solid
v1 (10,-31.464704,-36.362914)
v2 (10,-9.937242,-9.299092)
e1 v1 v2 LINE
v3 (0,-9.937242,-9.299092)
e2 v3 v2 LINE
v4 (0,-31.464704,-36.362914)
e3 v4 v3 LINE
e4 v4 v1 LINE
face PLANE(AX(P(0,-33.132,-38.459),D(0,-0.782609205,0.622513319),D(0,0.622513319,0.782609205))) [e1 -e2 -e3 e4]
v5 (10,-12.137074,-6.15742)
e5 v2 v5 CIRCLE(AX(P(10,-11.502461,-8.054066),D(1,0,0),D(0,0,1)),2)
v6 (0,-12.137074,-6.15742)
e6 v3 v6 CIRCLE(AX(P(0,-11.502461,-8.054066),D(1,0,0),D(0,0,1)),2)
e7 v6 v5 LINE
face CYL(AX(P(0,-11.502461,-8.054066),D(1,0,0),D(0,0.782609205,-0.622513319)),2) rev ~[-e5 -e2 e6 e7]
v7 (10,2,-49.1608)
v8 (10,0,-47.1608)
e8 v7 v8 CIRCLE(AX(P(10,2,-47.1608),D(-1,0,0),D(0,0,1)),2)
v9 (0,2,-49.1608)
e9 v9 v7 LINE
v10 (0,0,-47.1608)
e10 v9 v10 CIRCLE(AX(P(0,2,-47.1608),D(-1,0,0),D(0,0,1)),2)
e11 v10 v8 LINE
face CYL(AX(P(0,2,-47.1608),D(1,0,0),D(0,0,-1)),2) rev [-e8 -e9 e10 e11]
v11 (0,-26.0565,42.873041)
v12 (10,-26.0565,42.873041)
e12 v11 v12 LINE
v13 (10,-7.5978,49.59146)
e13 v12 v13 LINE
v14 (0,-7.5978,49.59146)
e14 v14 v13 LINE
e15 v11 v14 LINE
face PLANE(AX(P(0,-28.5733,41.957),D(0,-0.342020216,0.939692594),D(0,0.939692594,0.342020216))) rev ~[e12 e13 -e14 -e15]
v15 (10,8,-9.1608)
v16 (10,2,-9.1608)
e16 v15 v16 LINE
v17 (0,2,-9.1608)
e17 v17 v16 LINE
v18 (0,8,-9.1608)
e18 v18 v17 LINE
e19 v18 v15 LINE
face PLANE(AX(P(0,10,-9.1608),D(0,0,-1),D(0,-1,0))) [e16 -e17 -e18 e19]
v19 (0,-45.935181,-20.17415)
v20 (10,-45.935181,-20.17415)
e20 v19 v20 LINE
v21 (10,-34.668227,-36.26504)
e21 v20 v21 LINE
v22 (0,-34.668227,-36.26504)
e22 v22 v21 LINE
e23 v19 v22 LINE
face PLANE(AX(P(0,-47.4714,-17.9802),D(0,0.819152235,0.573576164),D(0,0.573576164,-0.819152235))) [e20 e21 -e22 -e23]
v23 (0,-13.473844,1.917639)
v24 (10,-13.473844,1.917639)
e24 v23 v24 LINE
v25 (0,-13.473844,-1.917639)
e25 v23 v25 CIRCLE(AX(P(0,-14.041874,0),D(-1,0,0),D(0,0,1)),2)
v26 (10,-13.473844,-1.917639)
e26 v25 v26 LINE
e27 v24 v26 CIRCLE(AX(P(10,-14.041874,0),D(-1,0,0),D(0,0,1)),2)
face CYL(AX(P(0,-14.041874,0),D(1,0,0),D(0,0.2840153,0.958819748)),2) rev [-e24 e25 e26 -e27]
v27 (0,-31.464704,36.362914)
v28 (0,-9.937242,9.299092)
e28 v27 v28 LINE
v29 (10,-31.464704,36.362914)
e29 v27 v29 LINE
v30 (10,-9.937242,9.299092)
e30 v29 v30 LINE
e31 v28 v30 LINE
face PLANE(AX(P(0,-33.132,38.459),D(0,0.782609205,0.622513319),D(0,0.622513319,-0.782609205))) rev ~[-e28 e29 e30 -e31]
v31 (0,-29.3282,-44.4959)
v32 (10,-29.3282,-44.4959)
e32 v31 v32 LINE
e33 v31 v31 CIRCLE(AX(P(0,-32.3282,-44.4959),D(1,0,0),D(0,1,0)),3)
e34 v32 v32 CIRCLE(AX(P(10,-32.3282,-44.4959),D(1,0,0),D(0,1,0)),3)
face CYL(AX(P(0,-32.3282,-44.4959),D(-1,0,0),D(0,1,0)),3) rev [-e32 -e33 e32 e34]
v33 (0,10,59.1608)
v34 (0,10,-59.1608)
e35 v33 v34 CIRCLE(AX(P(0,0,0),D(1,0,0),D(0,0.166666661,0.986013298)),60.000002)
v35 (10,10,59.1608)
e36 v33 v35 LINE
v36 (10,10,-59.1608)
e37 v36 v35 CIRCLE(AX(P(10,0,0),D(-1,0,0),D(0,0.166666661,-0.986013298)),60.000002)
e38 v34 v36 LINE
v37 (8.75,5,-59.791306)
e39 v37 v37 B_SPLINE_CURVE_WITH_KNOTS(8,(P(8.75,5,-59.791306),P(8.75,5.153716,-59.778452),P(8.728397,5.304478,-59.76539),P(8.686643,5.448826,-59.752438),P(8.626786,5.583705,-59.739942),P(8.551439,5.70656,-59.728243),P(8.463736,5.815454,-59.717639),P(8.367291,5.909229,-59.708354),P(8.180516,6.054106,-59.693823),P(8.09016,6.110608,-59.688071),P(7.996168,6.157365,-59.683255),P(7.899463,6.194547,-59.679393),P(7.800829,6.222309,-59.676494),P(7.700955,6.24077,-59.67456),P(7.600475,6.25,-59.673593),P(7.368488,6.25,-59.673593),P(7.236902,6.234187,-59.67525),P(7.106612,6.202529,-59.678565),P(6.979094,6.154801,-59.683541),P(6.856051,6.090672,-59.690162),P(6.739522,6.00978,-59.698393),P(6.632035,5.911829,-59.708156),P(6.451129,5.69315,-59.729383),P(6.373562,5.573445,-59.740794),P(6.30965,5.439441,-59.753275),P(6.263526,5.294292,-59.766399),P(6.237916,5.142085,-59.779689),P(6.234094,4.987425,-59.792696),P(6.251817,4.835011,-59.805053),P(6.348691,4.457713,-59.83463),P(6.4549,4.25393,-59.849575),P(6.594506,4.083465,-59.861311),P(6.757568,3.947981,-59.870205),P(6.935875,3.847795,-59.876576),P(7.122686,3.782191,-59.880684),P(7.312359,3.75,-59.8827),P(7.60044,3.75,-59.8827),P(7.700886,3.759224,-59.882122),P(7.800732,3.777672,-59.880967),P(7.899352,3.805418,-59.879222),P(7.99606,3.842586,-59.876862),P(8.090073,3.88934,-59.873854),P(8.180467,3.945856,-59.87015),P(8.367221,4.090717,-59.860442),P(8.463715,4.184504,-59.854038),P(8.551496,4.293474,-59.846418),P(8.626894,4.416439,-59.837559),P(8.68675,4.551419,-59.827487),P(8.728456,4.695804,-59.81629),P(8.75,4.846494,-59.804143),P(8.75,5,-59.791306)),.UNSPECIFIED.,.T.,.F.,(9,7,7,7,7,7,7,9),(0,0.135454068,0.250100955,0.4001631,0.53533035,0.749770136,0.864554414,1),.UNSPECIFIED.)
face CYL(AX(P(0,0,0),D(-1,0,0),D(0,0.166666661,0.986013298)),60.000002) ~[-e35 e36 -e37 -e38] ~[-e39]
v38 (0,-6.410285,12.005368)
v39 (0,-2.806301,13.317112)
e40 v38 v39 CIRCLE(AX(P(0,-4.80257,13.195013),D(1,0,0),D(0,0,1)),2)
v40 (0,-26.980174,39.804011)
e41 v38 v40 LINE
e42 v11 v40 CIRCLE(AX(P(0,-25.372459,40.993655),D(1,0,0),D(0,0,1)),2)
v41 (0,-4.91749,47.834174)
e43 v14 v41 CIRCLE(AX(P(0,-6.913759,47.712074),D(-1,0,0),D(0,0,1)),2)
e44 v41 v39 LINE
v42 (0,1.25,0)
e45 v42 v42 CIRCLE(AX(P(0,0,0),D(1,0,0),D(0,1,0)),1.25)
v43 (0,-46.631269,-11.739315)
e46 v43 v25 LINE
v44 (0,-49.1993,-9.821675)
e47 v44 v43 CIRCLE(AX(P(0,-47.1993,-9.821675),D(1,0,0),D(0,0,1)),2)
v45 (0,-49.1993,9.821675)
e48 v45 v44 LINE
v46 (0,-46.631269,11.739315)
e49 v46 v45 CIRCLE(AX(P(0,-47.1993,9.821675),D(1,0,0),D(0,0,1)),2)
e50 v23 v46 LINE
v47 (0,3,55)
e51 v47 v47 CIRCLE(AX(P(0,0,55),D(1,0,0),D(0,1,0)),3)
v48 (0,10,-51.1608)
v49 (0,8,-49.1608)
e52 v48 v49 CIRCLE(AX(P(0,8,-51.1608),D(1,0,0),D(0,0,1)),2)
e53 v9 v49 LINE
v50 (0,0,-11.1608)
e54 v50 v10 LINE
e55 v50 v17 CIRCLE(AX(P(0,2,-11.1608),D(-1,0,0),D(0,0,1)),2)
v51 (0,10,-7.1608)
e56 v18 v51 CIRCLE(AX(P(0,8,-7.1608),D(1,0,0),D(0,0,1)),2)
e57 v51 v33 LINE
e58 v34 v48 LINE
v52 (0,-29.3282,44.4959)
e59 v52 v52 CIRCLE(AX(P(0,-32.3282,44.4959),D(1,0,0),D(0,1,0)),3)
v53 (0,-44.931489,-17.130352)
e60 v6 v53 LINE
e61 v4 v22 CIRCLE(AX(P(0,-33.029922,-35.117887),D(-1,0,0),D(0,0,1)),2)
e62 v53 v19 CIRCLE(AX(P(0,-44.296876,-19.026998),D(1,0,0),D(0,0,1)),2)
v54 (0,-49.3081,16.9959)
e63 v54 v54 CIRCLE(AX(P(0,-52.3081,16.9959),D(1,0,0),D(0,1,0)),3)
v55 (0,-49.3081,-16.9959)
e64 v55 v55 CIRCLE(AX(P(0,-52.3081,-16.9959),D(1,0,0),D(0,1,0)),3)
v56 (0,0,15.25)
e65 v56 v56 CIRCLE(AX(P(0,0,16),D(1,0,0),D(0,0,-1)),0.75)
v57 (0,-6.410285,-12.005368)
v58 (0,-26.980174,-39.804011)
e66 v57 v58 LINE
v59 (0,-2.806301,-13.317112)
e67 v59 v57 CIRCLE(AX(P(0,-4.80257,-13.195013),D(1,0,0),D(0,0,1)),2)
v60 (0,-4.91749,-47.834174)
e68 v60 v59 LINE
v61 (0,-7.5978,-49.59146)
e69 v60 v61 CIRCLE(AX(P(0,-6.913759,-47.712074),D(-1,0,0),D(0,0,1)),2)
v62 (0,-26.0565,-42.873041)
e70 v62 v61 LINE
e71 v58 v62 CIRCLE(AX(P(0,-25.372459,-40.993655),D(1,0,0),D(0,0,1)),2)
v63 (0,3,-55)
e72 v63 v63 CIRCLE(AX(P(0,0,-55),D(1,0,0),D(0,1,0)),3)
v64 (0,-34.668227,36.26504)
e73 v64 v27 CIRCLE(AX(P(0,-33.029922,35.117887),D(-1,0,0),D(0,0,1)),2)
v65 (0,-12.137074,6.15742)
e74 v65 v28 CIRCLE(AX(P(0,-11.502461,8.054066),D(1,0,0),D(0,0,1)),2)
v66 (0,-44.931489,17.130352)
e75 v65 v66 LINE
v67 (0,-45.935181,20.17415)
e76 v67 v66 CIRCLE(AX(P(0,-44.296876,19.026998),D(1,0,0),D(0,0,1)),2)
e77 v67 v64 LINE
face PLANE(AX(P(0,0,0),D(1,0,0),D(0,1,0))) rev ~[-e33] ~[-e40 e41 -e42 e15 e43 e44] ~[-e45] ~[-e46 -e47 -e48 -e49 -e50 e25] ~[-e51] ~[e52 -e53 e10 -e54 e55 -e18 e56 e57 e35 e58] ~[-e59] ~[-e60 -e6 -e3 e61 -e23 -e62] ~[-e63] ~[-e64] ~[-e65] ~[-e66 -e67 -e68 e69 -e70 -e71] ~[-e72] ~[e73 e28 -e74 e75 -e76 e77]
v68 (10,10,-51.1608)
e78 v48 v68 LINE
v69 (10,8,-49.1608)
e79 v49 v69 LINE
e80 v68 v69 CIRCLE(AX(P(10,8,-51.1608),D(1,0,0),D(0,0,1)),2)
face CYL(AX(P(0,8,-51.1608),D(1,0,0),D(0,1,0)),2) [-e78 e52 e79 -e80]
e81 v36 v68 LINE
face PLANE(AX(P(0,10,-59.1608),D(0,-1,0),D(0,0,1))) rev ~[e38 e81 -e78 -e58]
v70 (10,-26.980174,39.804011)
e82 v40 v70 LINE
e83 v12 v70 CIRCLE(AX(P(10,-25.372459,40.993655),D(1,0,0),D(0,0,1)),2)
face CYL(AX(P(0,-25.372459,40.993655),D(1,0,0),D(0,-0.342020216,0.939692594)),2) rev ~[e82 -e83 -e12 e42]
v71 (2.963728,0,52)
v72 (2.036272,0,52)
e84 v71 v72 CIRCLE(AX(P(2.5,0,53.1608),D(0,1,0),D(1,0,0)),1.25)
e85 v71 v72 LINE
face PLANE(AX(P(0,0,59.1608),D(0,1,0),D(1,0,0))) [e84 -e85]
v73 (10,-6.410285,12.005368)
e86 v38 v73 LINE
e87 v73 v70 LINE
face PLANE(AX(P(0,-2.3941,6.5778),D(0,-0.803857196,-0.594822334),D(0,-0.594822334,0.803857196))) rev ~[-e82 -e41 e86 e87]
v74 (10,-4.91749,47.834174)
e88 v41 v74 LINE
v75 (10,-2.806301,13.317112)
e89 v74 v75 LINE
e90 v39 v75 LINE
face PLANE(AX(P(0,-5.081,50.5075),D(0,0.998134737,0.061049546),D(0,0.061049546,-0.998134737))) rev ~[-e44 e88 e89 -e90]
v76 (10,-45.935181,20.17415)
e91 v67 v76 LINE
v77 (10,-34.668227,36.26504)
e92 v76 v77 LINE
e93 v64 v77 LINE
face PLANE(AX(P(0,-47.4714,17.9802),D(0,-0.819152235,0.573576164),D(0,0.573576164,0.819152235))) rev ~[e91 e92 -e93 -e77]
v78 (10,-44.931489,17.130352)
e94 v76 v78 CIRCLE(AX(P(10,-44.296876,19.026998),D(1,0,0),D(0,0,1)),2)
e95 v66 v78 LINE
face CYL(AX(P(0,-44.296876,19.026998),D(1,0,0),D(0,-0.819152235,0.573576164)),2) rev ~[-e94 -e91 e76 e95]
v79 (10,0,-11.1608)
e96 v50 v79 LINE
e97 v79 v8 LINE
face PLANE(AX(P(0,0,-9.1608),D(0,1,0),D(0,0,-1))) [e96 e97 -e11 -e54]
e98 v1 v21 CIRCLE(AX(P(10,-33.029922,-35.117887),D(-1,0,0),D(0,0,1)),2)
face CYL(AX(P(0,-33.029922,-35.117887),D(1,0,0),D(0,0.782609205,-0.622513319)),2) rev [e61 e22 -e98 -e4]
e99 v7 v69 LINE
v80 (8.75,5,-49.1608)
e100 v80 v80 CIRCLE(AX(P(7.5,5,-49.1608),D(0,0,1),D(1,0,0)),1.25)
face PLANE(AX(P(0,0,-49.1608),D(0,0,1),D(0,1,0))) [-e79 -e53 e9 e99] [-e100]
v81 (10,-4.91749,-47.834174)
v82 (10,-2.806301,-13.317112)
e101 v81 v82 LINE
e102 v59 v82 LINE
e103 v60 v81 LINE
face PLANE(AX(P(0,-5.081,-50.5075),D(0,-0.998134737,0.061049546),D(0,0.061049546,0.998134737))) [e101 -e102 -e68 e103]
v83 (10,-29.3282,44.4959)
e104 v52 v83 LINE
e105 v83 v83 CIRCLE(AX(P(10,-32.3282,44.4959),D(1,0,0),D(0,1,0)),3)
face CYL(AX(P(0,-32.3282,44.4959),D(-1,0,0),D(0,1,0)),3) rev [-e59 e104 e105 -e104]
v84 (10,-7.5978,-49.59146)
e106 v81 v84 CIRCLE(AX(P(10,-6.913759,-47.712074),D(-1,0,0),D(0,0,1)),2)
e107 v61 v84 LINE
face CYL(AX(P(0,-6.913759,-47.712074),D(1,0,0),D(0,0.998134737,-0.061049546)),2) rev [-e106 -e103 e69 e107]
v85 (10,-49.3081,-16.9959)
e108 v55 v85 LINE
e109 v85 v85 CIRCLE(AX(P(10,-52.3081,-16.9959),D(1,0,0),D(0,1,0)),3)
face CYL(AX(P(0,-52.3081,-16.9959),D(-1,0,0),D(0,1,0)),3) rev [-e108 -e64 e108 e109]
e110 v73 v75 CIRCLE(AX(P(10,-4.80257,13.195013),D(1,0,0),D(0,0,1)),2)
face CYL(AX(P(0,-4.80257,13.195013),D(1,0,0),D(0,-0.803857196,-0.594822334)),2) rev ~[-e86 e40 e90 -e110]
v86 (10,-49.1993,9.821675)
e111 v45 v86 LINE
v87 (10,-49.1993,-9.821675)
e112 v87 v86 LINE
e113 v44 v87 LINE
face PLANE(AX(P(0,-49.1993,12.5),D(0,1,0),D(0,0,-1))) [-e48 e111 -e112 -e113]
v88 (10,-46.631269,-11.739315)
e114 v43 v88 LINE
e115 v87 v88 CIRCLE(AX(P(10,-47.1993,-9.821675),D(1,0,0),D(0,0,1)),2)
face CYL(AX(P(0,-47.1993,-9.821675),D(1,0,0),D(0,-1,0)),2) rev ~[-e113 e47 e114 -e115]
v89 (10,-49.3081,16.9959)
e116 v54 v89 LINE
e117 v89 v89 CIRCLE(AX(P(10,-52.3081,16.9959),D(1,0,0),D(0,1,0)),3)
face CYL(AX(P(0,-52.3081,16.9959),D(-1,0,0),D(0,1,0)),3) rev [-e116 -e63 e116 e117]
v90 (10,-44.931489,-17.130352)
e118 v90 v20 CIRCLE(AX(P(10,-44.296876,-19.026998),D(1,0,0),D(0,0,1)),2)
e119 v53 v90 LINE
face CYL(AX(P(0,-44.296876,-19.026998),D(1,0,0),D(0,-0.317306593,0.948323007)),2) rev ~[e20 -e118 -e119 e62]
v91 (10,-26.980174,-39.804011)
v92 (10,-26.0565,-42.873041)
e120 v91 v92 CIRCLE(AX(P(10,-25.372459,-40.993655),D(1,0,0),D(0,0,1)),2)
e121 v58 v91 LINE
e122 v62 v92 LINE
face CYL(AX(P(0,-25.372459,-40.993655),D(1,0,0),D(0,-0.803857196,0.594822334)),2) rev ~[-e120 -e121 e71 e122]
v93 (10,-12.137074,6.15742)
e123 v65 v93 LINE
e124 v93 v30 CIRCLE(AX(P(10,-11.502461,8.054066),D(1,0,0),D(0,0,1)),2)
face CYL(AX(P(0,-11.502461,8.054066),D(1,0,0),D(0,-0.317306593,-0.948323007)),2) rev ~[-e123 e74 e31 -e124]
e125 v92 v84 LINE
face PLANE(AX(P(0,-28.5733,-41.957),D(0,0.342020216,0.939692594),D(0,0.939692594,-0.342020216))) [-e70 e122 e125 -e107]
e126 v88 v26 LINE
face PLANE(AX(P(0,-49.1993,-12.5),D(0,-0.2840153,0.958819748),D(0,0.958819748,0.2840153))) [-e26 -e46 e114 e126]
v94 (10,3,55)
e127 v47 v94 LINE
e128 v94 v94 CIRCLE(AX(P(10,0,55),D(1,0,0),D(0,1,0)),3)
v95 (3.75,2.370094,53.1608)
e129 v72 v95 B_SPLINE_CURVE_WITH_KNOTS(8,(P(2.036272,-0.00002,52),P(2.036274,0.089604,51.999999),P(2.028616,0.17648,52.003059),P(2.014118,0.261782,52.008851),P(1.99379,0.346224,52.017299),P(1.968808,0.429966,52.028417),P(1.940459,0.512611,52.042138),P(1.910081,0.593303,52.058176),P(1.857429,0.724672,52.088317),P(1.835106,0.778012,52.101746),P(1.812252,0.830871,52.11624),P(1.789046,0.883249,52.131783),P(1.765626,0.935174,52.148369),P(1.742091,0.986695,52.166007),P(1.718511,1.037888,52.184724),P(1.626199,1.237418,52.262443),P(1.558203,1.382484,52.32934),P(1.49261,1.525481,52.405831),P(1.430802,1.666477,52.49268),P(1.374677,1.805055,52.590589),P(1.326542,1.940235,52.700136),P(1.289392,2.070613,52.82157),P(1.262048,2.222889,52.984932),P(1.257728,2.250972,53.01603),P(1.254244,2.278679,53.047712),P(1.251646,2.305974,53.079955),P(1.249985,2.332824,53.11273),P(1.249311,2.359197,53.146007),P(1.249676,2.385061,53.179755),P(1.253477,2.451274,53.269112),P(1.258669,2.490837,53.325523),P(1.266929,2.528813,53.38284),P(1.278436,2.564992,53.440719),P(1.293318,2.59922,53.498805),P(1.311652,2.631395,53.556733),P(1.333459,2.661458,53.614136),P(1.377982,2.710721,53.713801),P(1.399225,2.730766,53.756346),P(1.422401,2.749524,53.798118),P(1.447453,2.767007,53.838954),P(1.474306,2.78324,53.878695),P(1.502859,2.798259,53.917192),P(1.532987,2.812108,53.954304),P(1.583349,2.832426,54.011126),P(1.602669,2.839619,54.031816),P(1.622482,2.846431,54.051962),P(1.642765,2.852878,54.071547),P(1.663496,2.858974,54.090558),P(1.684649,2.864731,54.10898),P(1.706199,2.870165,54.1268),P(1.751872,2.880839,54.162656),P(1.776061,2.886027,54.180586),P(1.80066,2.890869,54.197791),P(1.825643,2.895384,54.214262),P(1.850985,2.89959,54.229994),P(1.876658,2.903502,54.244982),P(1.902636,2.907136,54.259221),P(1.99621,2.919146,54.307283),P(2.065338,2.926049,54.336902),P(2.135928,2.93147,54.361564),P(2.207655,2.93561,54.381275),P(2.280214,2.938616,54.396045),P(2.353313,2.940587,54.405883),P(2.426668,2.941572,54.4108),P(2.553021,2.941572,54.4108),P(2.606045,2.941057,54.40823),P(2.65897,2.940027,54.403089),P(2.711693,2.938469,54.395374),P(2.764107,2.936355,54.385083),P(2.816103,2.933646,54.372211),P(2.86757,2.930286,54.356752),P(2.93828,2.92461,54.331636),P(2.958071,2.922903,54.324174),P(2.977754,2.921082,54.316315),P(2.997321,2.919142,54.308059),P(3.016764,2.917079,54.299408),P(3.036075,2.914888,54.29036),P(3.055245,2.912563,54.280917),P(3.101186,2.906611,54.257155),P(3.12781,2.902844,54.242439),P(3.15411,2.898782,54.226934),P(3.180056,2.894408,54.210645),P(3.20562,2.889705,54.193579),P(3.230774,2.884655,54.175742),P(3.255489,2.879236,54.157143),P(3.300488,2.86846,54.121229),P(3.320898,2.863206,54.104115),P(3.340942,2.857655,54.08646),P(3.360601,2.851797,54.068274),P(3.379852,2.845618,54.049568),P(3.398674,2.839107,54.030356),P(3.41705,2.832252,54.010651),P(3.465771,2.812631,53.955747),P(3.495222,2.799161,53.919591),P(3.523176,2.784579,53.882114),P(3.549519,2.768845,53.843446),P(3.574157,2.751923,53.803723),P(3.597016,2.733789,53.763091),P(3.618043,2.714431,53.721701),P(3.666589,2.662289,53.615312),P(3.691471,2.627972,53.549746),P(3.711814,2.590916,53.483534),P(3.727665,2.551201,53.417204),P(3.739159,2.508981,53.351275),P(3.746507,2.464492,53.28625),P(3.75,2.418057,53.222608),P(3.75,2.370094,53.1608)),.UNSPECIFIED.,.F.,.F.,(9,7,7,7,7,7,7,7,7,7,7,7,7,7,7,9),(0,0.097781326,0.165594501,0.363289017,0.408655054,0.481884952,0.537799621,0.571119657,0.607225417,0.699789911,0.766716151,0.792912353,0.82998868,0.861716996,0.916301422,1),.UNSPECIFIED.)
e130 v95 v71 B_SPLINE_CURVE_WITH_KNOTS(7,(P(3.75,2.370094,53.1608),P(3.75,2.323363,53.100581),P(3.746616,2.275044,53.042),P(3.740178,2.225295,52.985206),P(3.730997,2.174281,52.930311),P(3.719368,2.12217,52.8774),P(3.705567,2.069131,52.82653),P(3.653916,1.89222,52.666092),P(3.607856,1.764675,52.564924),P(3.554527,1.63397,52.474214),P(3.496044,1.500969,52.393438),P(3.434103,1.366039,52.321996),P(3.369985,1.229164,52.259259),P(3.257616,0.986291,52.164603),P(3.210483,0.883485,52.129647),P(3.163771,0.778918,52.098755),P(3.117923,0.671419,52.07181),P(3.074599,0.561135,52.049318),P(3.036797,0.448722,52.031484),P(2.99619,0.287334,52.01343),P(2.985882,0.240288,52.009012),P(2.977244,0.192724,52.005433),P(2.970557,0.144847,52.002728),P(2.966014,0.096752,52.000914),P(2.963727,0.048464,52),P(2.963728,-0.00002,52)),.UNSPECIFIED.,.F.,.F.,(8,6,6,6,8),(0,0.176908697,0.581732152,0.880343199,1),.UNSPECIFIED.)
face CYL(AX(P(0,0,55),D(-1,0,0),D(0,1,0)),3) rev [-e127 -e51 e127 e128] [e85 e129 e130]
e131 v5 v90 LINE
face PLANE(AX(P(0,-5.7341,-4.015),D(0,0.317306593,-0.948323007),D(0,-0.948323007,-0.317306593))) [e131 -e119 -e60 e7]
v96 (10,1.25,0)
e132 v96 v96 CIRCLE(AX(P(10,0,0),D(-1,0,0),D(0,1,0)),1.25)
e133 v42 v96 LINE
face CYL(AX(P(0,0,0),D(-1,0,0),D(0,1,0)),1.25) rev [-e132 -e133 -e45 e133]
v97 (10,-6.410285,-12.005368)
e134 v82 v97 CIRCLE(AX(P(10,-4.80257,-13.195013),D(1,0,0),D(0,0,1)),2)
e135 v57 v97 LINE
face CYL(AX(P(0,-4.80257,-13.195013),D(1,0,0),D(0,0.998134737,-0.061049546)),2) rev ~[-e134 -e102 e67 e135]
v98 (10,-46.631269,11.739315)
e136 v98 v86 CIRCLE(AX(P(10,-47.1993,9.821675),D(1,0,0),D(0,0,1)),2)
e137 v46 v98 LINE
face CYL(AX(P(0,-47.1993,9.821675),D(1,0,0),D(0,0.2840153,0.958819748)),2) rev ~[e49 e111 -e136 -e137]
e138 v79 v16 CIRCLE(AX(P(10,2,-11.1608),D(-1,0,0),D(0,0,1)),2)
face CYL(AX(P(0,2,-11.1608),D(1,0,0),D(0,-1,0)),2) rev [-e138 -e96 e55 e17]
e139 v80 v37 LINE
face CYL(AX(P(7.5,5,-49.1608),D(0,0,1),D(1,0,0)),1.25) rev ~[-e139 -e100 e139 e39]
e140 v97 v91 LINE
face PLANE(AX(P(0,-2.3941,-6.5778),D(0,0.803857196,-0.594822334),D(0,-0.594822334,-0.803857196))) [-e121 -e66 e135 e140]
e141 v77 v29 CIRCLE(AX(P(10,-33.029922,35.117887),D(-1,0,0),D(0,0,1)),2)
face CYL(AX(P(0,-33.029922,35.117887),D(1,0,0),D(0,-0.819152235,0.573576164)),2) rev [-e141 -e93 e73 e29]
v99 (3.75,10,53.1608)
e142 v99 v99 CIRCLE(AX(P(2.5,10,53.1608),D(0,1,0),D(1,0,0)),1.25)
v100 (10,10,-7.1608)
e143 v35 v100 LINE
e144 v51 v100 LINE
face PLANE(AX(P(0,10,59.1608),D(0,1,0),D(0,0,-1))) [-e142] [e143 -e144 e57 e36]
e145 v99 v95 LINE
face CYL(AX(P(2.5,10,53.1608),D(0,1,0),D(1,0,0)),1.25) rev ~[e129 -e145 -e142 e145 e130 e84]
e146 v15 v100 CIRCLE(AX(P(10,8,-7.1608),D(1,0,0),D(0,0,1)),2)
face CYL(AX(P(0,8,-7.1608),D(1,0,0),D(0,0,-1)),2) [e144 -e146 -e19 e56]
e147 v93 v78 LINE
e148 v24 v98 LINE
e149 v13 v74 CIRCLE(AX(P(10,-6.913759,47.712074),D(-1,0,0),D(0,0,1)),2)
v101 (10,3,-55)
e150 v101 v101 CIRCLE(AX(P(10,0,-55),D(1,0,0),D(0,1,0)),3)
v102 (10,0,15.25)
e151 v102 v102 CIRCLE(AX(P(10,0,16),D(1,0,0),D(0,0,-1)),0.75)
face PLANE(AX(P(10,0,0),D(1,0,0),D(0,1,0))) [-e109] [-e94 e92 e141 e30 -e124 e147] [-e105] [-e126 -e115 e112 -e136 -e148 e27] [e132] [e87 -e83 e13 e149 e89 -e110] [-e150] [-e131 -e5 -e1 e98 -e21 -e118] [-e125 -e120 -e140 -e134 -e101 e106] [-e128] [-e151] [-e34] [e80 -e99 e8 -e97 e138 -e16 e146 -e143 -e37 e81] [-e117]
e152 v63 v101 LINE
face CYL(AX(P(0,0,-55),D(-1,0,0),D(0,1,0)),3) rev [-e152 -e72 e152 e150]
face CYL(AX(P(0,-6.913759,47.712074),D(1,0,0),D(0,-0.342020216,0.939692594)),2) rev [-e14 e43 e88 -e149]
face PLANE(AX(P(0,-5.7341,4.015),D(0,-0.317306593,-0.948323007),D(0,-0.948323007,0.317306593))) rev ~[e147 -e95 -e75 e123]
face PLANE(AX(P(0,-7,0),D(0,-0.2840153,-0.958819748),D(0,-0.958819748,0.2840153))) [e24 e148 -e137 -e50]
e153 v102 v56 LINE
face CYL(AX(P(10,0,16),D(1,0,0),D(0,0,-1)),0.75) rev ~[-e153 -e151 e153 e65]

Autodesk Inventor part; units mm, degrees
ref_plane "YZ Plane" through (0, 0, 0) normal (1, 0, 0) x (0, 1, 0)
ref_plane "XZ Plane" through (0, 0, 0) normal (0, 1, 0) x (-1, 0, 0)
ref_plane "XY Plane" through (0, 0, 0) normal (0, 0, 1) x (1, 0, 0)
sketch "Skizze1" plane through (0, 0, 0) normal (1, 0, 0) x (0, 1, 0)
  arc A0 (10, 59.1608) -> (10, -59.1608) centre (0, 0) ccw
  line L0 (10, 59.1608) -> (10, -9.1608)
  line L1 (10, -59.1608) -> (10, -49.1608)
  line L2 (10, -9.1608) -> (0, -9.1608)
  line L3 (0, -9.1608) -> (0, -49.1608)
  line L4 (0, -49.1608) -> (10, -49.1608)
  circle A1 centre (0, 55) radius 3
  circle A2 centre (-32.3282, 44.4959) radius 3
  circle A3 centre (-52.3081, 16.9959) radius 3
  circle A4 centre (-52.3081, -16.9959) radius 3
  circle A5 centre (-32.3282, -44.4959) radius 3
  circle A6 centre (0, -55) radius 3
  circle A7 centre (0, 0) radius 1.25
  line L5 (-7, 0) -> (-49.1993, 12.5)
  line L6 (-49.1993, 12.5) -> (-49.1993, -12.5)
  line L7 (-49.1993, -12.5) -> (-7, 0)
  line L8 (-74, 0) -> (24, 0) projected
  line L9 (-33.132, -38.459) -> (-5.7341, -4.015)
  line L10 (-5.7341, -4.015) -> (-47.4714, -17.9802)
  line L11 (-47.4714, -17.9802) -> (-33.132, -38.459)
  line L12 (-5.081, -50.5075) -> (-2.3941, -6.5778)
  line L13 (-2.3941, -6.5778) -> (-28.5733, -41.957)
  line L14 (-28.5733, -41.957) -> (-5.081, -50.5075)
  line L15 (-33.132, 38.459) -> (-5.7341, 4.015)
  line L16 (-5.7341, 4.015) -> (-47.4714, 17.9802)
  line L17 (-47.4714, 17.9802) -> (-33.132, 38.459)
  line L18 (-5.081, 50.5075) -> (-2.3941, 6.5778)
  line L19 (-2.3941, 6.5778) -> (-28.5733, 41.957)
  line L20 (-28.5733, 41.957) -> (-5.081, 50.5075)
  dimension "d0" = 120
  dimension "d1" = 40
  dimension "d2" = 10
  dimension "d3" = 10
  dimension "d4" = 10
  dimension "d5" = 10
  dimension "d6" = 55
  dimension "d7" = 0
  dimension "d8" = 6
  dimension "d11" = 180
  dimension "d13" = 2.5
  dimension "d19" = 33
  dimension "d20" = 12.5
  dimension "d22" = 0
  dimension "d23" = 7
  dimension "d26" = 70
  dimension "d34" = 25
extrude "Extrusion1" add sketch "Skizze1" along normal blind 10 contours L0 L8 A7 L5 L6 A0 | L8 L6 L7 A7 L0 L2 L3 L4 L1 A0
fillet "Rundung1" radius 2 15 edges at (5, -5.081, -50.5075) (5, -28.5733, -41.957) (5, -33.132, -38.459) (5, -47.4714, -17.9802) (5, -49.1993, -12.5) (5, -49.1993, 12.5) (5, -33.132, 38.459) (5, -47.4714, 17.9802) (5, -28.5733, 41.957) (5, -5.081, 50.5075) (5, -2.3941, 6.5778) (5, -5.7341, 4.015) (5, -7, 0) (5, -5.7341, -4.015) (5, -2.3941, -6.5778)
fillet "Rundung2" radius 2 4 edges at (5, 10, -9.1608) (5, 0, -9.1608) (5, 0, -49.1608) (5, 10, -49.1608)
sketch "Skizze2" plane through (10, 0, 0) normal (1, 0, 0) x (0, 0, -1)
  circle A0 centre (-16, 0) radius 0.75
  point P0 (0, 0)
  dimension "d30" = 1.5
  dimension "d31" = 16
extrude "Extrusion2" cut sketch "Skizze2" against normal blind 10
sketch "Skizze3" plane through (0, 2, -49.1608) normal (0, 0, 1) x (1, 0, 0)
  circle A0 centre (7.5, 3) radius 1.25
  line L0 (10, 6) -> (10, 0) projected
  line L1 (0, 6) -> (10, 6) projected
  point P0 (0, -2)
  dimension "d35" = 2.5
  dimension "d36" = 2.5
  dimension "d37" = 3
extrude "Extrusion3" cut sketch "Skizze3" against normal blind 12
sketch "Skizze4" plane through (0, 10, 59.1608) normal (0, 1, 0) x (1, 0, 0)
  circle A0 centre (2.5, 6) radius 1.25
  line L0 (0, 66.3216) -> (0, 0) projected
  line L1 (0, 0) -> (10, 0) projected
  point P0 (0, 59.1608)
  dimension "d40" = 2.5
  dimension "d41" = 2.5
  dimension "d42" = 6
extrude "Extrusion4" cut sketch "Skizze4" against normal blind 10
equation "\"d20\" = 0.5 * d34"
properties part number "Capstondisc"
